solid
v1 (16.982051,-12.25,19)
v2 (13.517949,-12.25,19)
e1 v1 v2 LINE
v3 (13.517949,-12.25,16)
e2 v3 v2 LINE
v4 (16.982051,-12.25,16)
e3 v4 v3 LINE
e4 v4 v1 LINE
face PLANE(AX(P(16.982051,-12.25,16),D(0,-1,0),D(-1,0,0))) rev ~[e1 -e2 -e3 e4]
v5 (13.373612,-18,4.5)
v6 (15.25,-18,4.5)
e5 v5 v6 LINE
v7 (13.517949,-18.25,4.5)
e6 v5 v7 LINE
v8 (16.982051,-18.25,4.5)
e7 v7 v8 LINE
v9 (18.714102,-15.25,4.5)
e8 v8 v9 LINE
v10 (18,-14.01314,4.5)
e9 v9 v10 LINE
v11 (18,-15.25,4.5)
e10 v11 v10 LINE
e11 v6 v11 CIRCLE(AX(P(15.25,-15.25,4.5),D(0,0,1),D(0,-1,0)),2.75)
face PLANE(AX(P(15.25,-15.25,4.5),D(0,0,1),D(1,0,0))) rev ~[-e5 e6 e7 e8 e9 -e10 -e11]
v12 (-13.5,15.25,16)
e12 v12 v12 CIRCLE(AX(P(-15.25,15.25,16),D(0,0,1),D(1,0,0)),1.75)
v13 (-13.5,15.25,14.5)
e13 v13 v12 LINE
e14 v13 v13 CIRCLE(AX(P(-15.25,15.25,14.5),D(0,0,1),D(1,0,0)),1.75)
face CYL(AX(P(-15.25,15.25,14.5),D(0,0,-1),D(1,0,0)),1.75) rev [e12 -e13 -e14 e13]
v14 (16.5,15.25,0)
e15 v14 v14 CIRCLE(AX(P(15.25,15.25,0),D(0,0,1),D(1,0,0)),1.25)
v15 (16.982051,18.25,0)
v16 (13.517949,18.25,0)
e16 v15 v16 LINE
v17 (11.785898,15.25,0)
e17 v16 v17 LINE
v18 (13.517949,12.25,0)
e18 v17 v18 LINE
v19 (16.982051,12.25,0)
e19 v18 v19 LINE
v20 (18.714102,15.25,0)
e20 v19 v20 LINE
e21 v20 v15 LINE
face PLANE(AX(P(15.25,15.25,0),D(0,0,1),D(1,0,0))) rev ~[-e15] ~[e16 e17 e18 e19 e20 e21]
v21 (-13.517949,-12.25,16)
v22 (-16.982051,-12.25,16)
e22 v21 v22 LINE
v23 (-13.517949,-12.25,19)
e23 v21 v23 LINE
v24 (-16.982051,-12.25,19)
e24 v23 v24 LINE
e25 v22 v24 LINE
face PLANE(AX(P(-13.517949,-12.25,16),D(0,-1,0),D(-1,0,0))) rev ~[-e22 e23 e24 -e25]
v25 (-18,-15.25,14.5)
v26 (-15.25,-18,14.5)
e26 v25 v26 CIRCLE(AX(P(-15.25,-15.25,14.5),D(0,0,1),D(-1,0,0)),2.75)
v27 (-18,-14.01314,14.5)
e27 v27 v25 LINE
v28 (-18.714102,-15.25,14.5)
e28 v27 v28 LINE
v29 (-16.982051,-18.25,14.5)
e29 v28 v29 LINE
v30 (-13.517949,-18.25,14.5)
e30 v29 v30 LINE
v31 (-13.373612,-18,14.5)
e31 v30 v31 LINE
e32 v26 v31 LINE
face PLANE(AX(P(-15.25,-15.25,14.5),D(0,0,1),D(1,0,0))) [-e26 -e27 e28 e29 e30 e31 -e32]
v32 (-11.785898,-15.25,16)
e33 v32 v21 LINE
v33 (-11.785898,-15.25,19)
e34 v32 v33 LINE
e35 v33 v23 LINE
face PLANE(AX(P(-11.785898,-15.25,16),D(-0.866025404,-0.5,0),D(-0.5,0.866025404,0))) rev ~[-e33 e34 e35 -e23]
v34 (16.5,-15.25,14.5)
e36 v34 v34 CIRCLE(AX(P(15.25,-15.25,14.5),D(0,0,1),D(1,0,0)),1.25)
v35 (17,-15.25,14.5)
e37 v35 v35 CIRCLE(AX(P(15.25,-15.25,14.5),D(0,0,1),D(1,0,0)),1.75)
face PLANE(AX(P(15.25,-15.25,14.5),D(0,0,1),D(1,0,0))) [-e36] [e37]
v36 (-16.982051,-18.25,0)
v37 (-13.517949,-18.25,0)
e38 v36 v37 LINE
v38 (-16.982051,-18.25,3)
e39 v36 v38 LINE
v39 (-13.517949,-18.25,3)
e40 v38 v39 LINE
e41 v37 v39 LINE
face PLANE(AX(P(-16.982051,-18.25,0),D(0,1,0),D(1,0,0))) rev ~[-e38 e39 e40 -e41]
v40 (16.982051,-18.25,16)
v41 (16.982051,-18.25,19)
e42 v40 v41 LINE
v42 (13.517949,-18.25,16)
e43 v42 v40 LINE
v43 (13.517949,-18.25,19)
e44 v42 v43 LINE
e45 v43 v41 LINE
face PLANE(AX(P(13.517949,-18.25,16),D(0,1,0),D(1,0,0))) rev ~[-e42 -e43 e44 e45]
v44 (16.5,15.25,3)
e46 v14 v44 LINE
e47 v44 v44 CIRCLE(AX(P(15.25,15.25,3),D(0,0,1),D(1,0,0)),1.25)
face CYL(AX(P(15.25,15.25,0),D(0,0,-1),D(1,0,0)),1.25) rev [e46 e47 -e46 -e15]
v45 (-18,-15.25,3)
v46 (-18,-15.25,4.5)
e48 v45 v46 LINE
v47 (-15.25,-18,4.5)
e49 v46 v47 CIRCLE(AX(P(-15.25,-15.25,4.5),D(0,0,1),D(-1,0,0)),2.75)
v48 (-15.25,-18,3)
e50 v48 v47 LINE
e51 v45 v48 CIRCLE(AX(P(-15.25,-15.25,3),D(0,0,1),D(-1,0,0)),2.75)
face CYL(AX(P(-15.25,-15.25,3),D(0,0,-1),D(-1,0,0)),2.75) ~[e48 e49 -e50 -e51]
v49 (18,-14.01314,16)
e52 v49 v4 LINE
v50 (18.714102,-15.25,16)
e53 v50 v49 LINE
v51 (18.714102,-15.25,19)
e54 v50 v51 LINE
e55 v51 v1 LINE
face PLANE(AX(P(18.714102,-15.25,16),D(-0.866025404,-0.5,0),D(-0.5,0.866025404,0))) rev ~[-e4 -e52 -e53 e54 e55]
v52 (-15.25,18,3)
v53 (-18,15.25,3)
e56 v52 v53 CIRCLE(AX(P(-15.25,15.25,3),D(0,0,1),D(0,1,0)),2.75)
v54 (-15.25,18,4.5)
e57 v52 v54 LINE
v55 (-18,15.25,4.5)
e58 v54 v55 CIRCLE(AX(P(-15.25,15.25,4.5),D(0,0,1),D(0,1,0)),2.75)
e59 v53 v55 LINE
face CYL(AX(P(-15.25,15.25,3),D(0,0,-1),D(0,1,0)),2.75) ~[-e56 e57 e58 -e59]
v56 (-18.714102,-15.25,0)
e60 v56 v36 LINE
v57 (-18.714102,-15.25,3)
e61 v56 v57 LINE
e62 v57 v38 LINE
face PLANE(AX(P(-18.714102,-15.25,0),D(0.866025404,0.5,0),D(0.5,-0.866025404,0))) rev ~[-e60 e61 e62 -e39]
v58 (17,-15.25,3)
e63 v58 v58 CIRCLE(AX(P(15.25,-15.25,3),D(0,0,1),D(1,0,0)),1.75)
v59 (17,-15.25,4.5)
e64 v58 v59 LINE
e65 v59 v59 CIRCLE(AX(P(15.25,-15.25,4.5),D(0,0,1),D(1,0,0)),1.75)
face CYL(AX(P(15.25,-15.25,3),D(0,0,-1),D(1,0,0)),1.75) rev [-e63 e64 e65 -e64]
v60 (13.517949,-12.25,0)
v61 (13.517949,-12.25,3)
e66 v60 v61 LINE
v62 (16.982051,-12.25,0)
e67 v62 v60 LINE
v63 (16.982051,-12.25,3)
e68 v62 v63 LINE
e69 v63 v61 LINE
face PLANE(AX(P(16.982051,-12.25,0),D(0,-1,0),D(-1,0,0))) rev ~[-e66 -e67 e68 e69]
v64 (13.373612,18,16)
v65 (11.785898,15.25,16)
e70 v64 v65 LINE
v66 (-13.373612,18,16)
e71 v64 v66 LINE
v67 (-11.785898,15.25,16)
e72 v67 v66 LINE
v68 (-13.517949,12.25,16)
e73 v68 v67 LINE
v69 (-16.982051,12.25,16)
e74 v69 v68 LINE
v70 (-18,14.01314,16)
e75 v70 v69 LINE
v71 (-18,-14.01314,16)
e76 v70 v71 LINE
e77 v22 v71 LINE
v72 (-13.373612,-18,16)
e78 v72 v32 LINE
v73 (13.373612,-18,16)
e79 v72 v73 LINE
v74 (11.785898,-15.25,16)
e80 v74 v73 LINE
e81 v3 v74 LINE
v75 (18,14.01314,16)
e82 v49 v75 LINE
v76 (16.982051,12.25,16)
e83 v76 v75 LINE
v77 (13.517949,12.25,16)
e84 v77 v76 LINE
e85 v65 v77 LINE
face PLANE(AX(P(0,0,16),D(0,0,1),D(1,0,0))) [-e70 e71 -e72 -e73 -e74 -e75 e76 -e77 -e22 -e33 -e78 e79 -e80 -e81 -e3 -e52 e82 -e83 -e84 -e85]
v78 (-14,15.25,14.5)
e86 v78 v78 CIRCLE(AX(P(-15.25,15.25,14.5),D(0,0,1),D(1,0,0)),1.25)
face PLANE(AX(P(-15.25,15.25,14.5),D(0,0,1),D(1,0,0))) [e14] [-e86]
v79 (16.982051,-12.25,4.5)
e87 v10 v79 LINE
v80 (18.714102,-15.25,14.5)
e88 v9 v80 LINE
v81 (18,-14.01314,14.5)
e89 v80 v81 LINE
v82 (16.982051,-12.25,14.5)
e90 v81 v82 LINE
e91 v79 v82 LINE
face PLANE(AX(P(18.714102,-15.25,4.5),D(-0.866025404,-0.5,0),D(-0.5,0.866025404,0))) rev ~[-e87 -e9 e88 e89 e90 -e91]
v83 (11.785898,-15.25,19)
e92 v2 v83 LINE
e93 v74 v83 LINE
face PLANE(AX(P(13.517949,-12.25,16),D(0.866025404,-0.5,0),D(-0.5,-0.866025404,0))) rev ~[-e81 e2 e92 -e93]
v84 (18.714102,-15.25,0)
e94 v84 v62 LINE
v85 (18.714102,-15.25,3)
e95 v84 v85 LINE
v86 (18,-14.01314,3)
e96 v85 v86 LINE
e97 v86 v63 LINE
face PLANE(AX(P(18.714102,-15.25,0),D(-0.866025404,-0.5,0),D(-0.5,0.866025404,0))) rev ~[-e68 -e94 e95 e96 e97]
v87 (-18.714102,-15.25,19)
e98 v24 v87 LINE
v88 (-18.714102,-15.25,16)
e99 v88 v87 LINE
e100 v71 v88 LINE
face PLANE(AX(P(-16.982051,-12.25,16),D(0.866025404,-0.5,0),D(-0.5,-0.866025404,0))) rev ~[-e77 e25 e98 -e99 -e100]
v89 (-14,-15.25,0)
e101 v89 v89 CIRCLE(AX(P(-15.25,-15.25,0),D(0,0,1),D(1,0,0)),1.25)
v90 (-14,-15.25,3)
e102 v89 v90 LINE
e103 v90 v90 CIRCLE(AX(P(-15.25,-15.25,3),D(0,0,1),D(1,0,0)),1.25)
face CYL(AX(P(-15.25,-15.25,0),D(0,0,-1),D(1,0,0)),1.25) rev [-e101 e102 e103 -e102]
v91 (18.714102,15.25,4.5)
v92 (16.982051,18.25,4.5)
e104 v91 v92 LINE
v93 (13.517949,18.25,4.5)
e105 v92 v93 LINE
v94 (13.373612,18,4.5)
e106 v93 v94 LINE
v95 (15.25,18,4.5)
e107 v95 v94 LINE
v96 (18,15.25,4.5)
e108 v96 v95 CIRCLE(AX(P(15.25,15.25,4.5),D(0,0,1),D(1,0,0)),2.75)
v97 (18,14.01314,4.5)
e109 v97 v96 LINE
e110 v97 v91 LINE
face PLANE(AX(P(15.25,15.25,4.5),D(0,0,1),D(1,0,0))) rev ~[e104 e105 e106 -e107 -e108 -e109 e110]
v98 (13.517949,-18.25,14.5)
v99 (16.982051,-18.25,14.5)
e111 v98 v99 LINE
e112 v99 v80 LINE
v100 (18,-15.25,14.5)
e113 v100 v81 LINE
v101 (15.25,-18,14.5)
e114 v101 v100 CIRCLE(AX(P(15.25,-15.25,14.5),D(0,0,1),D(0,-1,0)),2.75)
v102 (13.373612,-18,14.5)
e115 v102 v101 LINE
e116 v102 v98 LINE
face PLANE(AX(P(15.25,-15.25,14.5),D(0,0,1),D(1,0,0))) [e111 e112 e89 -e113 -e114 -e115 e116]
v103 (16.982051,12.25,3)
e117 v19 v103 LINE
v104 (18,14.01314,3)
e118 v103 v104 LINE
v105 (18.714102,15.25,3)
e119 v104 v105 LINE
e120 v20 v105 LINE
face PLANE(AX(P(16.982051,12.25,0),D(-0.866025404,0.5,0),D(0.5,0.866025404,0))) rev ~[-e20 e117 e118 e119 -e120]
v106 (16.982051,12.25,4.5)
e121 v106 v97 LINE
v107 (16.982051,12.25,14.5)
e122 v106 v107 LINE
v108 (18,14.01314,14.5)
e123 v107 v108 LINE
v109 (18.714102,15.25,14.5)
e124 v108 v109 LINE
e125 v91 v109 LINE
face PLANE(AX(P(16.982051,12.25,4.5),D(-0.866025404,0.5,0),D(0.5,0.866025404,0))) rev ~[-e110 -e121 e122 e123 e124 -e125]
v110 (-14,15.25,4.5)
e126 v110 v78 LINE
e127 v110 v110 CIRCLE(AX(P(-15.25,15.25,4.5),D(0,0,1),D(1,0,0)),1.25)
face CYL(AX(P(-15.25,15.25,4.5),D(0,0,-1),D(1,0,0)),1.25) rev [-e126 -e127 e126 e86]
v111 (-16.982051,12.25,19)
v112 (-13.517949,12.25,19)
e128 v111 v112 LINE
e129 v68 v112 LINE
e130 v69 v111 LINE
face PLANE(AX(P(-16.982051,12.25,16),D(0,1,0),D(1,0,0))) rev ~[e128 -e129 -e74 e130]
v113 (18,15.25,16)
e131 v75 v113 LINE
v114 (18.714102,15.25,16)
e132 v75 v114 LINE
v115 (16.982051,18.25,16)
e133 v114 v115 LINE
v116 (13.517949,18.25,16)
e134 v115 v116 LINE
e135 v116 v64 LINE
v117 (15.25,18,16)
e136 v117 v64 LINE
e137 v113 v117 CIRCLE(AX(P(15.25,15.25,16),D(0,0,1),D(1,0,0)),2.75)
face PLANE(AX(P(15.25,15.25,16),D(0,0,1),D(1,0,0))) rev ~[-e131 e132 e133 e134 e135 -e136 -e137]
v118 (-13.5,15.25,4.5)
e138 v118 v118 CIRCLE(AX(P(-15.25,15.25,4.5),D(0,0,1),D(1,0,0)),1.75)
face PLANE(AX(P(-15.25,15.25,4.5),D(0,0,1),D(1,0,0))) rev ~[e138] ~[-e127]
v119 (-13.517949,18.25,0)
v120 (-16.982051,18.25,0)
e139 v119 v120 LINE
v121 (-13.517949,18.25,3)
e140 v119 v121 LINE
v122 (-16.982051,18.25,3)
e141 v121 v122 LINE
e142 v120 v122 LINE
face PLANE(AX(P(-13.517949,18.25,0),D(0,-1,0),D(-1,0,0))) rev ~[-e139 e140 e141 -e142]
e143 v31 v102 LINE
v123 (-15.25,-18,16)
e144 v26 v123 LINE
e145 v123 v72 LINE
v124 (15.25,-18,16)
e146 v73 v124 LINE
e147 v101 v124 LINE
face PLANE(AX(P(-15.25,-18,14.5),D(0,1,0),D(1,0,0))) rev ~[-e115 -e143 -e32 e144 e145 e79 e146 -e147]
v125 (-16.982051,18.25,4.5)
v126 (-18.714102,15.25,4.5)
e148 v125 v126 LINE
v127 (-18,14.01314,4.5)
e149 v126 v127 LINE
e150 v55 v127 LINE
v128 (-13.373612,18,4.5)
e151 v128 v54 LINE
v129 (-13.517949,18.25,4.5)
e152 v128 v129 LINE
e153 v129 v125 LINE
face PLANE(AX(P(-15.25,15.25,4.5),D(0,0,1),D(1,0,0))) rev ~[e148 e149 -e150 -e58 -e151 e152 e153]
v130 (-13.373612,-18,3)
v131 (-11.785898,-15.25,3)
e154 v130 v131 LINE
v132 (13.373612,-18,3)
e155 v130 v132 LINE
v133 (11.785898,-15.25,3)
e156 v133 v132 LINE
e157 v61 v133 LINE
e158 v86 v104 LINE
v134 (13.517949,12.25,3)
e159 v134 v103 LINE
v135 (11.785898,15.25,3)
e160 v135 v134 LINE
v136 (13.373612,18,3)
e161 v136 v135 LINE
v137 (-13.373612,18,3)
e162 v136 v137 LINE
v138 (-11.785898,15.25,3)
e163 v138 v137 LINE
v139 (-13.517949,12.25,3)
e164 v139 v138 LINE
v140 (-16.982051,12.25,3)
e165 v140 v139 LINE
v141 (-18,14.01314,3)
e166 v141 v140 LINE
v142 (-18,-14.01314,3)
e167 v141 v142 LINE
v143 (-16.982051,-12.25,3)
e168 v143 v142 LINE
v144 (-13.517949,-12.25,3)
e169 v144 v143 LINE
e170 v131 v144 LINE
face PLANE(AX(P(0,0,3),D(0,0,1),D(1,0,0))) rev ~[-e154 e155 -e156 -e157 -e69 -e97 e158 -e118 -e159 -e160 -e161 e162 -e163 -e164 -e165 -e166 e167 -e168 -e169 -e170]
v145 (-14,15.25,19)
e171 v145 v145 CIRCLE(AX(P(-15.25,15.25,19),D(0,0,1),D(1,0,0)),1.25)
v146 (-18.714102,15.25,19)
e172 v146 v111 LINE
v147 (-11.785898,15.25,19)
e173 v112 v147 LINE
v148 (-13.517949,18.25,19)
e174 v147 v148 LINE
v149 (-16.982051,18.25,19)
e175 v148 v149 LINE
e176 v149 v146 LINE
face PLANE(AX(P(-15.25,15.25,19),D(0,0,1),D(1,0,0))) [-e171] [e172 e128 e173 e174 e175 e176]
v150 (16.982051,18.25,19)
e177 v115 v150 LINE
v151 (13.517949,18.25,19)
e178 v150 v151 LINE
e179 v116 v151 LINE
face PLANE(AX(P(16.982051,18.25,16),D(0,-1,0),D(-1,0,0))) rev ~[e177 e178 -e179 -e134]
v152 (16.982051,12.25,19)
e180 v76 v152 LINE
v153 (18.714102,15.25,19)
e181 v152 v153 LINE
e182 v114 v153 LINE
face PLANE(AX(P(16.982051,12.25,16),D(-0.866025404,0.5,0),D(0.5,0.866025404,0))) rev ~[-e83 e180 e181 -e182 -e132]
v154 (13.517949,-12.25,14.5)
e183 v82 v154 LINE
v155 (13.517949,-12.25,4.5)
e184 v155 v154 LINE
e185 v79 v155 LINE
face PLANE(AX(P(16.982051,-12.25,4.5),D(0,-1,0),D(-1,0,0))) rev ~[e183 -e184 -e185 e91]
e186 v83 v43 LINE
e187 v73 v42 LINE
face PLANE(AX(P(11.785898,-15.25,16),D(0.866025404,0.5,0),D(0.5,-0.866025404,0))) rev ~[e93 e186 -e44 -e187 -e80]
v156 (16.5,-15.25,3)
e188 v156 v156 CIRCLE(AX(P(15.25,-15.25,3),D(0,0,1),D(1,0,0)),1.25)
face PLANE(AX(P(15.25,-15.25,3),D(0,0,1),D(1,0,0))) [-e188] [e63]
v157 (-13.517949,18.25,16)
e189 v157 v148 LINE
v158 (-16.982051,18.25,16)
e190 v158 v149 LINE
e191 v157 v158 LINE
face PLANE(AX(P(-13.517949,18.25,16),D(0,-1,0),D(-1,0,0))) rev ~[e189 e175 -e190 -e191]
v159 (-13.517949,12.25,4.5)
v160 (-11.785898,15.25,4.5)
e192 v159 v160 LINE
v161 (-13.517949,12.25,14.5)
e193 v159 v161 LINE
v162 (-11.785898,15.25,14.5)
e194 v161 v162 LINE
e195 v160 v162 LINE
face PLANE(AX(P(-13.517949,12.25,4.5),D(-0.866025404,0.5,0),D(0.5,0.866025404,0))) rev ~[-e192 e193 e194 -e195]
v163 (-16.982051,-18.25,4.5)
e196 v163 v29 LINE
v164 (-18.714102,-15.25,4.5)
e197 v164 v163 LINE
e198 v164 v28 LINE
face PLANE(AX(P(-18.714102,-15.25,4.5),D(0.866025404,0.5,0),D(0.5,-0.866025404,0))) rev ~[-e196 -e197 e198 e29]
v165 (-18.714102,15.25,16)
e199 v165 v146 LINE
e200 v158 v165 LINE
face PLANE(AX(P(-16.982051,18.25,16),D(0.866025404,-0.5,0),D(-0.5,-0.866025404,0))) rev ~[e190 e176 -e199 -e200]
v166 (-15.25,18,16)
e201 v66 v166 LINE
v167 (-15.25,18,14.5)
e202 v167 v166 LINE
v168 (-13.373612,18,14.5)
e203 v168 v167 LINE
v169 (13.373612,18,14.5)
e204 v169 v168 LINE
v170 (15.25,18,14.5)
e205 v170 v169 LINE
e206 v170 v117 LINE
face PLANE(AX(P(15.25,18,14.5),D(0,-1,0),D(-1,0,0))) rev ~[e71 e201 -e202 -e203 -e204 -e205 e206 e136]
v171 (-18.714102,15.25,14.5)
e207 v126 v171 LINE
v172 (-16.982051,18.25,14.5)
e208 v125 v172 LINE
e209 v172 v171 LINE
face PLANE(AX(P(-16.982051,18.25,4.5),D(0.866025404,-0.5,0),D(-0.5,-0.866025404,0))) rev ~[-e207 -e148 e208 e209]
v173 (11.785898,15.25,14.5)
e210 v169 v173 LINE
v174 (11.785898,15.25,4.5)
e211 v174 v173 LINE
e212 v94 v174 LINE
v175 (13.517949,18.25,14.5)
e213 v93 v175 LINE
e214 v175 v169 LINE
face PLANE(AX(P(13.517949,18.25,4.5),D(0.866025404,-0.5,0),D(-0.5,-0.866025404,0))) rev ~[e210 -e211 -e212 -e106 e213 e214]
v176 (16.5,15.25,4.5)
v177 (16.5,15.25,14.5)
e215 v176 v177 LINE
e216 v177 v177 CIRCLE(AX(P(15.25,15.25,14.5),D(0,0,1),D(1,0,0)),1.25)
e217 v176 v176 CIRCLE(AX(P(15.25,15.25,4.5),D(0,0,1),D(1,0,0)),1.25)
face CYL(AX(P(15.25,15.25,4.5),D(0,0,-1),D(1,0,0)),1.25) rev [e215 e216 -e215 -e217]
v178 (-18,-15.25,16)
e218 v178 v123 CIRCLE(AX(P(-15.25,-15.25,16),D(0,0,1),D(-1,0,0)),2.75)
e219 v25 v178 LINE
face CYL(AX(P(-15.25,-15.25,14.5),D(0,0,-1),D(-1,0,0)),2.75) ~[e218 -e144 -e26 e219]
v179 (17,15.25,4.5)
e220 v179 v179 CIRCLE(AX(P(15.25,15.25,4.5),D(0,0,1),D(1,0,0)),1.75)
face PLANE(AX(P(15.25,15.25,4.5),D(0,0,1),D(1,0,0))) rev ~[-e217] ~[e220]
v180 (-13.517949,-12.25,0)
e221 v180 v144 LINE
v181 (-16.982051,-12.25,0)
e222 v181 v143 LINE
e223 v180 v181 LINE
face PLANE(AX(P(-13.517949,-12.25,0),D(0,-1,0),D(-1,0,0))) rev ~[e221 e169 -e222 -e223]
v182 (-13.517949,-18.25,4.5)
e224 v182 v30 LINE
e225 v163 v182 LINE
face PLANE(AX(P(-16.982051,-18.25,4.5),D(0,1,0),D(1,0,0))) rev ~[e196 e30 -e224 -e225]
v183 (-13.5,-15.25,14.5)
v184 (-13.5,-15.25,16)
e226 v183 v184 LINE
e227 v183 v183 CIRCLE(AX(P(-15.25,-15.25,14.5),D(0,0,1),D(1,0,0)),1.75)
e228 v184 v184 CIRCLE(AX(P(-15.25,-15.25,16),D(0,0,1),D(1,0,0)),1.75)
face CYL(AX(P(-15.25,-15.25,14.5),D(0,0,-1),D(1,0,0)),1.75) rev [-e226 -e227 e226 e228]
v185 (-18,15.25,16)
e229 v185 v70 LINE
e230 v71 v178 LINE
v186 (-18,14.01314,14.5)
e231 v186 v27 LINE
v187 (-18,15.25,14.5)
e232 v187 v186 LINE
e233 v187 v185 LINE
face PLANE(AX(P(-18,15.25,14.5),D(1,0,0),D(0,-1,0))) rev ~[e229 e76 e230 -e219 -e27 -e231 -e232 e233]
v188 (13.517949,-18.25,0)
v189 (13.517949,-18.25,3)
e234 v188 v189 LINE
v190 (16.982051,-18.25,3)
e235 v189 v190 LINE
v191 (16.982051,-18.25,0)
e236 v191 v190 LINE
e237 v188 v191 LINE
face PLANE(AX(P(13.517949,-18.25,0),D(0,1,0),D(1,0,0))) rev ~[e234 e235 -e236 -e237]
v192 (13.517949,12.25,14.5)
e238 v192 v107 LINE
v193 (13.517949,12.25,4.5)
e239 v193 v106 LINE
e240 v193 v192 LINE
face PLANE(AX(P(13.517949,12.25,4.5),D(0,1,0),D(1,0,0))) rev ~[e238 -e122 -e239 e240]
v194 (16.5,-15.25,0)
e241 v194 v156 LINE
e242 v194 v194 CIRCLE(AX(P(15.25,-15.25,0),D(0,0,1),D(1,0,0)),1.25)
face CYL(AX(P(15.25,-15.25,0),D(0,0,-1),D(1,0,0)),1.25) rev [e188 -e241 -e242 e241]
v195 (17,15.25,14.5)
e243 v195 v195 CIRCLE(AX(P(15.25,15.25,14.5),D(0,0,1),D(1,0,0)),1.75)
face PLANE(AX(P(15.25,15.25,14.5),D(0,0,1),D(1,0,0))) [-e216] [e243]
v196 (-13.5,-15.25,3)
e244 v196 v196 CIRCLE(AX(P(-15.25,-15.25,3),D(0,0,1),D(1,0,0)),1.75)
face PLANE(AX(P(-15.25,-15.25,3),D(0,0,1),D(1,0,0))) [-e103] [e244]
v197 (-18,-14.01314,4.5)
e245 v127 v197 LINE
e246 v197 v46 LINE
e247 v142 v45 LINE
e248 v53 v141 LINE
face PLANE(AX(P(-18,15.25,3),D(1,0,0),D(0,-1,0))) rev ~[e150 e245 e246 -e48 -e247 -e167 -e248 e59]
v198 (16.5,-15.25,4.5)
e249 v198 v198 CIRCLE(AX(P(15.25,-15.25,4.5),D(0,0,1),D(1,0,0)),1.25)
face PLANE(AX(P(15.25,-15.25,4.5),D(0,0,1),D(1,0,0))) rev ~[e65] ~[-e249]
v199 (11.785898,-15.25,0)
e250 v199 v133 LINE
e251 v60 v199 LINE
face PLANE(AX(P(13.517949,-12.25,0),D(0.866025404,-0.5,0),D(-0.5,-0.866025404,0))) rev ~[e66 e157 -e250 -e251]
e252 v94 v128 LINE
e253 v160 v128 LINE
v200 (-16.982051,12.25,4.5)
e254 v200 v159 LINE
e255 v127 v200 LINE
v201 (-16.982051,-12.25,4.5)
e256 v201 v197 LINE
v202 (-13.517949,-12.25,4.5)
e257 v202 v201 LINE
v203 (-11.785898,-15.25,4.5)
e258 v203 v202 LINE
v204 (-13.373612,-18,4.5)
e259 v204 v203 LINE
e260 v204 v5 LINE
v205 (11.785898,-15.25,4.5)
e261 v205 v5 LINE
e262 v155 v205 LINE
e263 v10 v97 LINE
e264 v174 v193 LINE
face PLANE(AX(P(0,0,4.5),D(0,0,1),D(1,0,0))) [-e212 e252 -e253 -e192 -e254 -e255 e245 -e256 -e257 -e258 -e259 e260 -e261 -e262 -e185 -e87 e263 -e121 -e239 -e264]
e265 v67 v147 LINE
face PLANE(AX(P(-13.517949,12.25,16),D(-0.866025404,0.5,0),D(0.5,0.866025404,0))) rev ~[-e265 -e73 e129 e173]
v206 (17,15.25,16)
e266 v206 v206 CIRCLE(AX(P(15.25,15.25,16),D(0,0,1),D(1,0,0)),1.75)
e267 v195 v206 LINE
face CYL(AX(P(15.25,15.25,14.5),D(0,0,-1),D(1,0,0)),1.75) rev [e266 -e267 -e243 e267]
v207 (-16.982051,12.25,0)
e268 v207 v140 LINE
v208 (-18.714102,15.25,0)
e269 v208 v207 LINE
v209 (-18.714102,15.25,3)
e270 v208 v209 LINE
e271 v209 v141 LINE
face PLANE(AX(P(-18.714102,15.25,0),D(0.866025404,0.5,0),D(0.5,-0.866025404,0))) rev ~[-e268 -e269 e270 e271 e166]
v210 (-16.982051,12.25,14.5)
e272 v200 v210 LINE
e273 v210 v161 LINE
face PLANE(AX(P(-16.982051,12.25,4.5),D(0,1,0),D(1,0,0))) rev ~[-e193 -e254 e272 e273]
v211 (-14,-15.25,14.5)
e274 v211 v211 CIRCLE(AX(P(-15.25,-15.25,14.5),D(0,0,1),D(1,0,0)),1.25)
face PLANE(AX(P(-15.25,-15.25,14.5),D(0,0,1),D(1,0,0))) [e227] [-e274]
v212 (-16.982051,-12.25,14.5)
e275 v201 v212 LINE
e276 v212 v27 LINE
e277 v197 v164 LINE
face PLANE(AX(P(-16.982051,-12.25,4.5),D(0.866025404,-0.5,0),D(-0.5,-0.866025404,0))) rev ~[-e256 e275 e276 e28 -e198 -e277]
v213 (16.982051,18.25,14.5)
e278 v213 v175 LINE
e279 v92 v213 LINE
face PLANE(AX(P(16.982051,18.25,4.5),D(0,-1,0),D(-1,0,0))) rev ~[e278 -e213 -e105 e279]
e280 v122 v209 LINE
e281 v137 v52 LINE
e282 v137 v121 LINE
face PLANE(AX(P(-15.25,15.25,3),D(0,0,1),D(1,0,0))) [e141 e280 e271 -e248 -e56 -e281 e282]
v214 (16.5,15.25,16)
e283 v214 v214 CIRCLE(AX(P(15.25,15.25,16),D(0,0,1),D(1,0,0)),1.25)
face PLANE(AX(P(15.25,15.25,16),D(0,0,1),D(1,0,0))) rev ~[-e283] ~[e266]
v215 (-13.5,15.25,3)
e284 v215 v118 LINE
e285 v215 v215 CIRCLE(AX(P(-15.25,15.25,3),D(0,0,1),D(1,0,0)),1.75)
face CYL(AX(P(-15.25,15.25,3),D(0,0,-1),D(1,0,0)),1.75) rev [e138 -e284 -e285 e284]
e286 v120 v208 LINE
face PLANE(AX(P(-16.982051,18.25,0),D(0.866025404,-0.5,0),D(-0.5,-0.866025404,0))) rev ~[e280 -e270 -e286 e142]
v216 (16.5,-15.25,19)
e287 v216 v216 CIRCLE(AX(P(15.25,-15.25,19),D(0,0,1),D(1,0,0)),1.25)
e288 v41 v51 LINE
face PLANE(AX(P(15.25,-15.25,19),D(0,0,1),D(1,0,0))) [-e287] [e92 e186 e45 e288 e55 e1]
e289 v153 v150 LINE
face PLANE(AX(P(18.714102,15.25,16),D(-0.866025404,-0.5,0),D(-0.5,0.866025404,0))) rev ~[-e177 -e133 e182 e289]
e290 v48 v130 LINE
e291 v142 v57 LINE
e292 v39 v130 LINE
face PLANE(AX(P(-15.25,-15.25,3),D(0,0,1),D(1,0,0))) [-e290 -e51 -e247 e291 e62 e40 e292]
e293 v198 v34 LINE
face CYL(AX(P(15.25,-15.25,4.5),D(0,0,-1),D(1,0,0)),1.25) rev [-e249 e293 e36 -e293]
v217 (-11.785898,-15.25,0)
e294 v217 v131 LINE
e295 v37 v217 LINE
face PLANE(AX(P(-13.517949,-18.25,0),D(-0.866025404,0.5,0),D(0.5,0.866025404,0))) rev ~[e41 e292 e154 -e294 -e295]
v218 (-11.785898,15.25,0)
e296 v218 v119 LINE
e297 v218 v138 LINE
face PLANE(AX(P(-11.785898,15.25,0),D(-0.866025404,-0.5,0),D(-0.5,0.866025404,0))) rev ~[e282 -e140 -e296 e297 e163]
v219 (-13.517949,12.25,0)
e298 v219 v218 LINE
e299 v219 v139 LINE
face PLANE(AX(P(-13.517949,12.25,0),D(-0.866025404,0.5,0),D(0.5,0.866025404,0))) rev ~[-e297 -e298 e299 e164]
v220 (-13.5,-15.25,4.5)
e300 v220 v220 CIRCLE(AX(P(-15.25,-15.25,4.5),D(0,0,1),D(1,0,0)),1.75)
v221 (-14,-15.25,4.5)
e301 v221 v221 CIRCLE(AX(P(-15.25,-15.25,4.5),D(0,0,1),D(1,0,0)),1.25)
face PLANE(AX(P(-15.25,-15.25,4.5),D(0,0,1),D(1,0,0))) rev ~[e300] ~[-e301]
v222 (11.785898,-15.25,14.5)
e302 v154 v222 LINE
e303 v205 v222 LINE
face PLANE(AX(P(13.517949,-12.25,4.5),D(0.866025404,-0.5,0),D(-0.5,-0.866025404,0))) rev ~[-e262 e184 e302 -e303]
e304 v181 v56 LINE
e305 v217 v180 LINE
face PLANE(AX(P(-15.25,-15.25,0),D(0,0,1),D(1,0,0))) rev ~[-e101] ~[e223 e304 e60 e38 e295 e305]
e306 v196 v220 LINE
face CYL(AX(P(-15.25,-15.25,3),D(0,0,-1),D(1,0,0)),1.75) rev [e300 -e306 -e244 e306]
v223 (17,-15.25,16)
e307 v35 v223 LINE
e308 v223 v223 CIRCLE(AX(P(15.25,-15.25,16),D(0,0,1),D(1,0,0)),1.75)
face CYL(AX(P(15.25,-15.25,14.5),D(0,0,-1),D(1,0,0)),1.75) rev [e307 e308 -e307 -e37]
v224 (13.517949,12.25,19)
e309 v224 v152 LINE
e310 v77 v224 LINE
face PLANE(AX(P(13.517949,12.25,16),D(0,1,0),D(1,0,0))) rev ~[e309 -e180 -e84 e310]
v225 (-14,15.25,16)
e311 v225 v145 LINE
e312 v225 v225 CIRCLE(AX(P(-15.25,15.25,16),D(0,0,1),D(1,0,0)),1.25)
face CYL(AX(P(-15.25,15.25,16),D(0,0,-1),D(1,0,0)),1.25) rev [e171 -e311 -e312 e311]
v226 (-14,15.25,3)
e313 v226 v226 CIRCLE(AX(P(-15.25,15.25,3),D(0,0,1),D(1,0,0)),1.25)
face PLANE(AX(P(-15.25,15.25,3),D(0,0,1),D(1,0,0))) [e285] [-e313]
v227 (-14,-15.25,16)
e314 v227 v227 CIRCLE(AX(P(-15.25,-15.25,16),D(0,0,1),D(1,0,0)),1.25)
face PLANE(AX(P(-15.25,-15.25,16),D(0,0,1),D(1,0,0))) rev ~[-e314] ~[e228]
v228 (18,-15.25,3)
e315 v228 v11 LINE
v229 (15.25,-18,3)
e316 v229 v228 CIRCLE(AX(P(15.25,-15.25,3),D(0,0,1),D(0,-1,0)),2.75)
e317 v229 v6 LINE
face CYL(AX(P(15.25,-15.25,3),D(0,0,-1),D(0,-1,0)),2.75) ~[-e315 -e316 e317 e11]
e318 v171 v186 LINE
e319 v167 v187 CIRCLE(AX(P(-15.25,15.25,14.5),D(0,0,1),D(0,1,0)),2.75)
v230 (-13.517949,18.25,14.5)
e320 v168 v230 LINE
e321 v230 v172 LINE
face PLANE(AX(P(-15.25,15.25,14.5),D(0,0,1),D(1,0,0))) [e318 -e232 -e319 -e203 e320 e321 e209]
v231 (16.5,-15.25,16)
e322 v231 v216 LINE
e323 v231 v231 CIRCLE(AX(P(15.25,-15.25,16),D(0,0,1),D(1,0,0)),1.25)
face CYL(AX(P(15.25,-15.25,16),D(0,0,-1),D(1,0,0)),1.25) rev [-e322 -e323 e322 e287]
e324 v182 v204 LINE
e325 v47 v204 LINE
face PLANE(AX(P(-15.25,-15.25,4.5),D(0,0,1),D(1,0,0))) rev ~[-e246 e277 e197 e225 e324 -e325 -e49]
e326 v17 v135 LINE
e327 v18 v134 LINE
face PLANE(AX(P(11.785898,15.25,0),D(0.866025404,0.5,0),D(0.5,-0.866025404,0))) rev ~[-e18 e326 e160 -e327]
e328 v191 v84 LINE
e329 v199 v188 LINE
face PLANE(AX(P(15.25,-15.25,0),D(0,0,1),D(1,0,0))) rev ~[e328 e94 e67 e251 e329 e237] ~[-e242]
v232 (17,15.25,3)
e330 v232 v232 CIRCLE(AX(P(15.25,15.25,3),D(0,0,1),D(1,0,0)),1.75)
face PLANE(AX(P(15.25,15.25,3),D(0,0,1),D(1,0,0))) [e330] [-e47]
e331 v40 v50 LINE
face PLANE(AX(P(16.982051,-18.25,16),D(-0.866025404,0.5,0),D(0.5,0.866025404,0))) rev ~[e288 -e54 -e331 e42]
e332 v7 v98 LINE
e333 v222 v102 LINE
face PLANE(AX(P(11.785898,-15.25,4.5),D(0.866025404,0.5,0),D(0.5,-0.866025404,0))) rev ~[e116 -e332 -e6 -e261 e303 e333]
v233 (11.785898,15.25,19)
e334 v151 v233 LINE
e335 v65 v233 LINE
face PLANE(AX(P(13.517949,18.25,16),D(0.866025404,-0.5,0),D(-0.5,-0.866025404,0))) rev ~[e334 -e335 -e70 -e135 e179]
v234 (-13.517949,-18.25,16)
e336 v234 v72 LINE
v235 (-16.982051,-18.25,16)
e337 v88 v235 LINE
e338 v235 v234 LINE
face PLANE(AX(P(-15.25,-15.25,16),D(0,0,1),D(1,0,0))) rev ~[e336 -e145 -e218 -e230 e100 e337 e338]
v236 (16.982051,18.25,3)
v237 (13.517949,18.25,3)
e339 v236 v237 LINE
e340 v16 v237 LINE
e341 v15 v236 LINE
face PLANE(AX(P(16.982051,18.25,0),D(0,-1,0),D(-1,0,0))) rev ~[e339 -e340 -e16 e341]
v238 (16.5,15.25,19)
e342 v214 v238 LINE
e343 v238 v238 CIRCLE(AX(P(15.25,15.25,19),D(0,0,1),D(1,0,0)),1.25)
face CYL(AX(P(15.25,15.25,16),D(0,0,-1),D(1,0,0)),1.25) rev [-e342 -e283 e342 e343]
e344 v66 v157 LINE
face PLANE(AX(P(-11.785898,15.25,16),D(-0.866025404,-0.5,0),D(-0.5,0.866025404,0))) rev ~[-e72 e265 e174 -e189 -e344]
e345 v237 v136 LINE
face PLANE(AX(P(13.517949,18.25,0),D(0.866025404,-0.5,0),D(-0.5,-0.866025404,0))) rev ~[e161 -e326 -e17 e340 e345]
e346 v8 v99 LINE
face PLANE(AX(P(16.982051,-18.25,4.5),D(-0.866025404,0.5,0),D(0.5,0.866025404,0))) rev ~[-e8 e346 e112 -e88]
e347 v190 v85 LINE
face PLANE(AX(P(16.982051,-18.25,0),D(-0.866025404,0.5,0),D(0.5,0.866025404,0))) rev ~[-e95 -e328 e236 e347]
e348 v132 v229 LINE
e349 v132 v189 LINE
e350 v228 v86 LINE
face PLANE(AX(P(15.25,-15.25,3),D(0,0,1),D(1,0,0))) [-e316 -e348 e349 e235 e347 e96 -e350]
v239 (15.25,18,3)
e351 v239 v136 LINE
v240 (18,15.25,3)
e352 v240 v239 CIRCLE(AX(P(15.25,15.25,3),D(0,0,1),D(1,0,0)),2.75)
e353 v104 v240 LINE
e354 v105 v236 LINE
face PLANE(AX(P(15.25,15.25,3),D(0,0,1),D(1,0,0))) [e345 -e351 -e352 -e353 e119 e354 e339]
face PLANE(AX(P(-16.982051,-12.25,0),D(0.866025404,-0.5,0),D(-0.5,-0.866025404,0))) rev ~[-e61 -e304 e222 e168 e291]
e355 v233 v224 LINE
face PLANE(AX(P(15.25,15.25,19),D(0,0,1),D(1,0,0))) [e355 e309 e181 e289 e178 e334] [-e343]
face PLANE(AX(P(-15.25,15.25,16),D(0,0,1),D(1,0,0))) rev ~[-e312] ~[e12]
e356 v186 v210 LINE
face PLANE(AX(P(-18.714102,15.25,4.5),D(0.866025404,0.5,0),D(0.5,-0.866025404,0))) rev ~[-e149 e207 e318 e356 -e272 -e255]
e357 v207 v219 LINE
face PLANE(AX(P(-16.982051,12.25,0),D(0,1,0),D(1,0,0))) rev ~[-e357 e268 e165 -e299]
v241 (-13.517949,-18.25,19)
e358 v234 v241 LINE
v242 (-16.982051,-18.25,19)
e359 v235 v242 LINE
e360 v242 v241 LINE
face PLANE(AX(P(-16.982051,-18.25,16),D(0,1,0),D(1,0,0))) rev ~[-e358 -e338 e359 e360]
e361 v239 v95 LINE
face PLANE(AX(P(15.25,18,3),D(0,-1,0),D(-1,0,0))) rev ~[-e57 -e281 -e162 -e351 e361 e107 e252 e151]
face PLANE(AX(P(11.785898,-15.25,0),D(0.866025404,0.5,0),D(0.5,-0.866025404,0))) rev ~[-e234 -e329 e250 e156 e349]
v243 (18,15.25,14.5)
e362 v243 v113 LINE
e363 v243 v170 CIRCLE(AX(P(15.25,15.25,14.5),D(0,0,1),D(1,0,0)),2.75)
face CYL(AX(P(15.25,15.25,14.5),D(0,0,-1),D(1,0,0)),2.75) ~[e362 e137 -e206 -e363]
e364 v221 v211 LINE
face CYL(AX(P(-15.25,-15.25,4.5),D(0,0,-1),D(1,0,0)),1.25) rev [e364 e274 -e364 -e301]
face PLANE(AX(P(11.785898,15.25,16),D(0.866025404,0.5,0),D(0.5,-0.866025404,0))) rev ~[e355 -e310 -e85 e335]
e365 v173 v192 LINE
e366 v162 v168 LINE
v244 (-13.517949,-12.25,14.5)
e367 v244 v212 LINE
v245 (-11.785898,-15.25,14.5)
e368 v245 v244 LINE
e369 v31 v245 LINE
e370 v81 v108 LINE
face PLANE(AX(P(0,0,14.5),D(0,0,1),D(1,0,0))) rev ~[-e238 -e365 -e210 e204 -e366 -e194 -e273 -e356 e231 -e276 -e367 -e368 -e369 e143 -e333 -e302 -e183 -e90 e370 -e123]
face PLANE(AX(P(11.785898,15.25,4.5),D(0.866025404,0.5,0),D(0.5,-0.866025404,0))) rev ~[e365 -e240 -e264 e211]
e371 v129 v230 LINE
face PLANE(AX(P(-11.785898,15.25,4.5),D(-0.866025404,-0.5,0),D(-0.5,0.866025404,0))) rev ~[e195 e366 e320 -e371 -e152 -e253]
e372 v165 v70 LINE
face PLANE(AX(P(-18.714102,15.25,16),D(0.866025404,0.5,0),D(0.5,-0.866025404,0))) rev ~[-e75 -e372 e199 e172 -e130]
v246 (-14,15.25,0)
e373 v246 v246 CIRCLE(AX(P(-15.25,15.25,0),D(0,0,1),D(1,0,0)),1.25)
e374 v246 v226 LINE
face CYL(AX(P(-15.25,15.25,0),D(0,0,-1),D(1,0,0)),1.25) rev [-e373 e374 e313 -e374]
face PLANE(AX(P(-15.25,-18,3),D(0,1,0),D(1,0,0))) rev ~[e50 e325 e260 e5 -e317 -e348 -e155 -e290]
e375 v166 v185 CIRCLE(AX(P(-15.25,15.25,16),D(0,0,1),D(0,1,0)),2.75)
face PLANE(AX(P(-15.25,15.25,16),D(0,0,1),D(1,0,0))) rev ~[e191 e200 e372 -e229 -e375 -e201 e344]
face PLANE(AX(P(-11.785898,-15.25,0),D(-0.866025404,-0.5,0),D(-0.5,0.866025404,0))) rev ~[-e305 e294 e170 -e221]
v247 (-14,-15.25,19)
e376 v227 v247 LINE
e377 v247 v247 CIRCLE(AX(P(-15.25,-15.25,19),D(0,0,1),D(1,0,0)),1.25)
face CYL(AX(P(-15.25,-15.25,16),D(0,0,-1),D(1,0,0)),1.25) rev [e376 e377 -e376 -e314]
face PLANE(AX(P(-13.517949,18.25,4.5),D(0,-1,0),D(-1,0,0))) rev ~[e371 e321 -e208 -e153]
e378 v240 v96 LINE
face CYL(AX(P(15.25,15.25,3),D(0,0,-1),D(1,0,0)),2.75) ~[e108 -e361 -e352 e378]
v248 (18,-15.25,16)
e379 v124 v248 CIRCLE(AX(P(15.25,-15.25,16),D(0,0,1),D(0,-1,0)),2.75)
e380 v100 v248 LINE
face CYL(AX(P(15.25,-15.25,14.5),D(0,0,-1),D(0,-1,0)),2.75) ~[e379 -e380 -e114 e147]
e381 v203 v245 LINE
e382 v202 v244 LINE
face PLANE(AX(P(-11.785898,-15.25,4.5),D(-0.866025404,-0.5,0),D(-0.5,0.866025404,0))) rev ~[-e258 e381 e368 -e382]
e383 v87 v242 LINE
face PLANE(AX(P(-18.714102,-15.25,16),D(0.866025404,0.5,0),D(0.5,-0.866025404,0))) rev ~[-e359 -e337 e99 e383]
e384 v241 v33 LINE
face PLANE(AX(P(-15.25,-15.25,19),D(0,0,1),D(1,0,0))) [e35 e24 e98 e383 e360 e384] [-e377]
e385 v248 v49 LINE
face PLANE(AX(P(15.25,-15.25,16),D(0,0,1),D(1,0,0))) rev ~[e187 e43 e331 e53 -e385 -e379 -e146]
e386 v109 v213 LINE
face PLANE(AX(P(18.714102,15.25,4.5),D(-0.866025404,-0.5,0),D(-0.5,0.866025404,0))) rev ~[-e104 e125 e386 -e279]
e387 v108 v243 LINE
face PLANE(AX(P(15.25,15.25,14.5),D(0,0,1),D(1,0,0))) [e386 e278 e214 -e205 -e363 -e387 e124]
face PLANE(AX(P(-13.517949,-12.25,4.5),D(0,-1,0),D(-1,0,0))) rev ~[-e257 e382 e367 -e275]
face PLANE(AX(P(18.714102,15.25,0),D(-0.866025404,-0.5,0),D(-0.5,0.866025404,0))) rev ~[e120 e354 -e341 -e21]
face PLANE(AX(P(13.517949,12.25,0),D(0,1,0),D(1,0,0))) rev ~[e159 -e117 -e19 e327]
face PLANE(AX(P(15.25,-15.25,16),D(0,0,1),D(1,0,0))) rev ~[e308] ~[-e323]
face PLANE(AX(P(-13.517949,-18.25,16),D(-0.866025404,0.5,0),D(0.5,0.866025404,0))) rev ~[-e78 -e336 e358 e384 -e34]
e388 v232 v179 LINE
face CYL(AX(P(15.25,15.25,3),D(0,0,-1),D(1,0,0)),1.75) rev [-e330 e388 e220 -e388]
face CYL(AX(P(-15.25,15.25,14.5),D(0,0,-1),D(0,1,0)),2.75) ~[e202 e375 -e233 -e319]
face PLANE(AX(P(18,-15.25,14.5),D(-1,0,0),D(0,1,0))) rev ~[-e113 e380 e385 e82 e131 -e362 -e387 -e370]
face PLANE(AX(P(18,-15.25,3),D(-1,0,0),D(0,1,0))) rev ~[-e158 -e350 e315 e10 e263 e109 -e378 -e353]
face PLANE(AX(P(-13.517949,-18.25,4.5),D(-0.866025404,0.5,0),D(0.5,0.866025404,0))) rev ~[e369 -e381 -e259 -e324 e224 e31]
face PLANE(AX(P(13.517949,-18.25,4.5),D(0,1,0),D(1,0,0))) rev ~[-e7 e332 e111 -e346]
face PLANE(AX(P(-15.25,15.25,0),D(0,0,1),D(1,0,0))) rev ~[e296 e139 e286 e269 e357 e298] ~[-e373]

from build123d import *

# Parameters (mm, degrees)
F1_START = 3
F0_R     = 1.75
F1_DEPTH = 1.5
F2_START = 14.5
F2_DEPTH = 1.5
F3_R     = 1.25
F4_DEPTH = 3
F5_START = 4.5
F5_DEPTH = 10
F6_START = 16
F6_DEPTH = 3


with BuildPart() as f1:
    # F0 (on Top) → F1 (new body)
    with BuildSketch(Plane.XY.offset(F1_START)):
        with BuildLine():
            Line((15.25, 18), (-15.25, 18))
            ThreePointArc((-15.25, 18), (-17.1945436483, 17.1945436483), (-18, 15.25))
            Line((-18, 15.25), (-18, -15.25))
            ThreePointArc((-18, -15.25), (-17.1945436483, -17.1945436483), (-15.25, -18))
            Line((-15.25, -18), (15.25, -18))
            ThreePointArc((15.25, -18), (17.1945436483, -17.1945436483), (18, -15.25))
            Line((18, -15.25), (18, 15.25))
            ThreePointArc((18, 15.25), (17.1945436483, 17.1945436483), (15.25, 18))
        make_face()
        with Locations((-15.25, -15.25)):
            Circle(F0_R, mode=Mode.SUBTRACT)
        with Locations((15.25, -15.25)):
            Circle(F0_R, mode=Mode.SUBTRACT)
        with Locations((-15.25, 15.25)):
            Circle(F0_R, mode=Mode.SUBTRACT)
        with Locations((15.25, 15.25)):
            Circle(F0_R, mode=Mode.SUBTRACT)
    extrude(amount=F1_DEPTH)

    # F3 (on Top) → F4 (join)
    with BuildSketch(Plane.XY):
        Polygon((-13.5179491924, -18.25), (-11.7858983849, -15.25), (-13.5179491924, -12.25), (-16.9820508076, -12.25), (-18.7141016151, -15.25), (-16.9820508076, -18.25), align=None)
        with Locations((-15.25, -15.25)):
            Circle(F3_R, mode=Mode.SUBTRACT)
        Polygon((18.7141016151, -15.25), (16.9820508076, -12.25), (13.5179491924, -12.25), (11.7858983849, -15.25), (13.5179491924, -18.25), (16.9820508076, -18.25), align=None)
        with Locations((15.25, -15.25)):
            Circle(F3_R, mode=Mode.SUBTRACT)
        Polygon((13.5179491924, 18.25), (11.7858983849, 15.25), (13.5179491924, 12.25), (16.9820508076, 12.25), (18.7141016151, 15.25), (16.9820508076, 18.25), align=None)
        with Locations((15.25, 15.25)):
            Circle(F3_R, mode=Mode.SUBTRACT)
        Polygon((-13.5179491924, 12.25), (-11.7858983849, 15.25), (-13.5179491924, 18.25), (-16.9820508076, 18.25), (-18.7141016151, 15.25), (-16.9820508076, 12.25), align=None)
        with Locations((-15.25, 15.25)):
            Circle(F3_R, mode=Mode.SUBTRACT)
    extrude(amount=F4_DEPTH)



with BuildPart() as f2:
    # F0 (on Top) → F2 (new body)
    with BuildSketch(Plane.XY.offset(F2_START)):
        with BuildLine():
            Line((15.25, 18), (-15.25, 18))
            ThreePointArc((-15.25, 18), (-17.1945436483, 17.1945436483), (-18, 15.25))
            Line((-18, 15.25), (-18, -15.25))
            ThreePointArc((-18, -15.25), (-17.1945436483, -17.1945436483), (-15.25, -18))
            Line((-15.25, -18), (15.25, -18))
            ThreePointArc((15.25, -18), (17.1945436483, -17.1945436483), (18, -15.25))
            Line((18, -15.25), (18, 15.25))
            ThreePointArc((18, 15.25), (17.1945436483, 17.1945436483), (15.25, 18))
        make_face()
        with Locations((-15.25, -15.25)):
            Circle(F0_R, mode=Mode.SUBTRACT)
        with Locations((15.25, -15.25)):
            Circle(F0_R, mode=Mode.SUBTRACT)
        with Locations((-15.25, 15.25)):
            Circle(F0_R, mode=Mode.SUBTRACT)
        with Locations((15.25, 15.25)):
            Circle(F0_R, mode=Mode.SUBTRACT)
    extrude(amount=F2_DEPTH)


with BuildPart() as f1_1:
    add(f1.part)

    add(f2.part)  # F5 merges F2
    # F3 (on Top) → F5 (join)
    with BuildSketch(Plane.XY.offset(F5_START)):
        Polygon((-13.5179491924, -18.25), (-11.7858983849, -15.25), (-13.5179491924, -12.25), (-16.9820508076, -12.25), (-18.7141016151, -15.25), (-16.9820508076, -18.25), align=None)
        with Locations((-15.25, -15.25)):
            Circle(F3_R, mode=Mode.SUBTRACT)
        Polygon((18.7141016151, -15.25), (16.9820508076, -12.25), (13.5179491924, -12.25), (11.7858983849, -15.25), (13.5179491924, -18.25), (16.9820508076, -18.25), align=None)
        with Locations((15.25, -15.25)):
            Circle(F3_R, mode=Mode.SUBTRACT)
        Polygon((13.5179491924, 18.25), (11.7858983849, 15.25), (13.5179491924, 12.25), (16.9820508076, 12.25), (18.7141016151, 15.25), (16.9820508076, 18.25), align=None)
        with Locations((15.25, 15.25)):
            Circle(F3_R, mode=Mode.SUBTRACT)
        Polygon((-13.5179491924, 12.25), (-11.7858983849, 15.25), (-13.5179491924, 18.25), (-16.9820508076, 18.25), (-18.7141016151, 15.25), (-16.9820508076, 12.25), align=None)
        with Locations((-15.25, 15.25)):
            Circle(F3_R, mode=Mode.SUBTRACT)
    extrude(amount=F5_DEPTH)

    # F3 (on Top) → F6 (join)
    with BuildSketch(Plane.XY.offset(F6_START)):
        Polygon((-13.5179491924, -18.25), (-11.7858983849, -15.25), (-13.5179491924, -12.25), (-16.9820508076, -12.25), (-18.7141016151, -15.25), (-16.9820508076, -18.25), align=None)
        with Locations((-15.25, -15.25)):
            Circle(F3_R, mode=Mode.SUBTRACT)
        Polygon((18.7141016151, -15.25), (16.9820508076, -12.25), (13.5179491924, -12.25), (11.7858983849, -15.25), (13.5179491924, -18.25), (16.9820508076, -18.25), align=None)
        with Locations((15.25, -15.25)):
            Circle(F3_R, mode=Mode.SUBTRACT)
        Polygon((13.5179491924, 18.25), (11.7858983849, 15.25), (13.5179491924, 12.25), (16.9820508076, 12.25), (18.7141016151, 15.25), (16.9820508076, 18.25), align=None)
        with Locations((15.25, 15.25)):
            Circle(F3_R, mode=Mode.SUBTRACT)
        Polygon((-13.5179491924, 12.25), (-11.7858983849, 15.25), (-13.5179491924, 18.25), (-16.9820508076, 18.25), (-18.7141016151, 15.25), (-16.9820508076, 12.25), align=None)
        with Locations((-15.25, 15.25)):
            Circle(F3_R, mode=Mode.SUBTRACT)
    extrude(amount=F6_DEPTH)


solid = f1_1.part
